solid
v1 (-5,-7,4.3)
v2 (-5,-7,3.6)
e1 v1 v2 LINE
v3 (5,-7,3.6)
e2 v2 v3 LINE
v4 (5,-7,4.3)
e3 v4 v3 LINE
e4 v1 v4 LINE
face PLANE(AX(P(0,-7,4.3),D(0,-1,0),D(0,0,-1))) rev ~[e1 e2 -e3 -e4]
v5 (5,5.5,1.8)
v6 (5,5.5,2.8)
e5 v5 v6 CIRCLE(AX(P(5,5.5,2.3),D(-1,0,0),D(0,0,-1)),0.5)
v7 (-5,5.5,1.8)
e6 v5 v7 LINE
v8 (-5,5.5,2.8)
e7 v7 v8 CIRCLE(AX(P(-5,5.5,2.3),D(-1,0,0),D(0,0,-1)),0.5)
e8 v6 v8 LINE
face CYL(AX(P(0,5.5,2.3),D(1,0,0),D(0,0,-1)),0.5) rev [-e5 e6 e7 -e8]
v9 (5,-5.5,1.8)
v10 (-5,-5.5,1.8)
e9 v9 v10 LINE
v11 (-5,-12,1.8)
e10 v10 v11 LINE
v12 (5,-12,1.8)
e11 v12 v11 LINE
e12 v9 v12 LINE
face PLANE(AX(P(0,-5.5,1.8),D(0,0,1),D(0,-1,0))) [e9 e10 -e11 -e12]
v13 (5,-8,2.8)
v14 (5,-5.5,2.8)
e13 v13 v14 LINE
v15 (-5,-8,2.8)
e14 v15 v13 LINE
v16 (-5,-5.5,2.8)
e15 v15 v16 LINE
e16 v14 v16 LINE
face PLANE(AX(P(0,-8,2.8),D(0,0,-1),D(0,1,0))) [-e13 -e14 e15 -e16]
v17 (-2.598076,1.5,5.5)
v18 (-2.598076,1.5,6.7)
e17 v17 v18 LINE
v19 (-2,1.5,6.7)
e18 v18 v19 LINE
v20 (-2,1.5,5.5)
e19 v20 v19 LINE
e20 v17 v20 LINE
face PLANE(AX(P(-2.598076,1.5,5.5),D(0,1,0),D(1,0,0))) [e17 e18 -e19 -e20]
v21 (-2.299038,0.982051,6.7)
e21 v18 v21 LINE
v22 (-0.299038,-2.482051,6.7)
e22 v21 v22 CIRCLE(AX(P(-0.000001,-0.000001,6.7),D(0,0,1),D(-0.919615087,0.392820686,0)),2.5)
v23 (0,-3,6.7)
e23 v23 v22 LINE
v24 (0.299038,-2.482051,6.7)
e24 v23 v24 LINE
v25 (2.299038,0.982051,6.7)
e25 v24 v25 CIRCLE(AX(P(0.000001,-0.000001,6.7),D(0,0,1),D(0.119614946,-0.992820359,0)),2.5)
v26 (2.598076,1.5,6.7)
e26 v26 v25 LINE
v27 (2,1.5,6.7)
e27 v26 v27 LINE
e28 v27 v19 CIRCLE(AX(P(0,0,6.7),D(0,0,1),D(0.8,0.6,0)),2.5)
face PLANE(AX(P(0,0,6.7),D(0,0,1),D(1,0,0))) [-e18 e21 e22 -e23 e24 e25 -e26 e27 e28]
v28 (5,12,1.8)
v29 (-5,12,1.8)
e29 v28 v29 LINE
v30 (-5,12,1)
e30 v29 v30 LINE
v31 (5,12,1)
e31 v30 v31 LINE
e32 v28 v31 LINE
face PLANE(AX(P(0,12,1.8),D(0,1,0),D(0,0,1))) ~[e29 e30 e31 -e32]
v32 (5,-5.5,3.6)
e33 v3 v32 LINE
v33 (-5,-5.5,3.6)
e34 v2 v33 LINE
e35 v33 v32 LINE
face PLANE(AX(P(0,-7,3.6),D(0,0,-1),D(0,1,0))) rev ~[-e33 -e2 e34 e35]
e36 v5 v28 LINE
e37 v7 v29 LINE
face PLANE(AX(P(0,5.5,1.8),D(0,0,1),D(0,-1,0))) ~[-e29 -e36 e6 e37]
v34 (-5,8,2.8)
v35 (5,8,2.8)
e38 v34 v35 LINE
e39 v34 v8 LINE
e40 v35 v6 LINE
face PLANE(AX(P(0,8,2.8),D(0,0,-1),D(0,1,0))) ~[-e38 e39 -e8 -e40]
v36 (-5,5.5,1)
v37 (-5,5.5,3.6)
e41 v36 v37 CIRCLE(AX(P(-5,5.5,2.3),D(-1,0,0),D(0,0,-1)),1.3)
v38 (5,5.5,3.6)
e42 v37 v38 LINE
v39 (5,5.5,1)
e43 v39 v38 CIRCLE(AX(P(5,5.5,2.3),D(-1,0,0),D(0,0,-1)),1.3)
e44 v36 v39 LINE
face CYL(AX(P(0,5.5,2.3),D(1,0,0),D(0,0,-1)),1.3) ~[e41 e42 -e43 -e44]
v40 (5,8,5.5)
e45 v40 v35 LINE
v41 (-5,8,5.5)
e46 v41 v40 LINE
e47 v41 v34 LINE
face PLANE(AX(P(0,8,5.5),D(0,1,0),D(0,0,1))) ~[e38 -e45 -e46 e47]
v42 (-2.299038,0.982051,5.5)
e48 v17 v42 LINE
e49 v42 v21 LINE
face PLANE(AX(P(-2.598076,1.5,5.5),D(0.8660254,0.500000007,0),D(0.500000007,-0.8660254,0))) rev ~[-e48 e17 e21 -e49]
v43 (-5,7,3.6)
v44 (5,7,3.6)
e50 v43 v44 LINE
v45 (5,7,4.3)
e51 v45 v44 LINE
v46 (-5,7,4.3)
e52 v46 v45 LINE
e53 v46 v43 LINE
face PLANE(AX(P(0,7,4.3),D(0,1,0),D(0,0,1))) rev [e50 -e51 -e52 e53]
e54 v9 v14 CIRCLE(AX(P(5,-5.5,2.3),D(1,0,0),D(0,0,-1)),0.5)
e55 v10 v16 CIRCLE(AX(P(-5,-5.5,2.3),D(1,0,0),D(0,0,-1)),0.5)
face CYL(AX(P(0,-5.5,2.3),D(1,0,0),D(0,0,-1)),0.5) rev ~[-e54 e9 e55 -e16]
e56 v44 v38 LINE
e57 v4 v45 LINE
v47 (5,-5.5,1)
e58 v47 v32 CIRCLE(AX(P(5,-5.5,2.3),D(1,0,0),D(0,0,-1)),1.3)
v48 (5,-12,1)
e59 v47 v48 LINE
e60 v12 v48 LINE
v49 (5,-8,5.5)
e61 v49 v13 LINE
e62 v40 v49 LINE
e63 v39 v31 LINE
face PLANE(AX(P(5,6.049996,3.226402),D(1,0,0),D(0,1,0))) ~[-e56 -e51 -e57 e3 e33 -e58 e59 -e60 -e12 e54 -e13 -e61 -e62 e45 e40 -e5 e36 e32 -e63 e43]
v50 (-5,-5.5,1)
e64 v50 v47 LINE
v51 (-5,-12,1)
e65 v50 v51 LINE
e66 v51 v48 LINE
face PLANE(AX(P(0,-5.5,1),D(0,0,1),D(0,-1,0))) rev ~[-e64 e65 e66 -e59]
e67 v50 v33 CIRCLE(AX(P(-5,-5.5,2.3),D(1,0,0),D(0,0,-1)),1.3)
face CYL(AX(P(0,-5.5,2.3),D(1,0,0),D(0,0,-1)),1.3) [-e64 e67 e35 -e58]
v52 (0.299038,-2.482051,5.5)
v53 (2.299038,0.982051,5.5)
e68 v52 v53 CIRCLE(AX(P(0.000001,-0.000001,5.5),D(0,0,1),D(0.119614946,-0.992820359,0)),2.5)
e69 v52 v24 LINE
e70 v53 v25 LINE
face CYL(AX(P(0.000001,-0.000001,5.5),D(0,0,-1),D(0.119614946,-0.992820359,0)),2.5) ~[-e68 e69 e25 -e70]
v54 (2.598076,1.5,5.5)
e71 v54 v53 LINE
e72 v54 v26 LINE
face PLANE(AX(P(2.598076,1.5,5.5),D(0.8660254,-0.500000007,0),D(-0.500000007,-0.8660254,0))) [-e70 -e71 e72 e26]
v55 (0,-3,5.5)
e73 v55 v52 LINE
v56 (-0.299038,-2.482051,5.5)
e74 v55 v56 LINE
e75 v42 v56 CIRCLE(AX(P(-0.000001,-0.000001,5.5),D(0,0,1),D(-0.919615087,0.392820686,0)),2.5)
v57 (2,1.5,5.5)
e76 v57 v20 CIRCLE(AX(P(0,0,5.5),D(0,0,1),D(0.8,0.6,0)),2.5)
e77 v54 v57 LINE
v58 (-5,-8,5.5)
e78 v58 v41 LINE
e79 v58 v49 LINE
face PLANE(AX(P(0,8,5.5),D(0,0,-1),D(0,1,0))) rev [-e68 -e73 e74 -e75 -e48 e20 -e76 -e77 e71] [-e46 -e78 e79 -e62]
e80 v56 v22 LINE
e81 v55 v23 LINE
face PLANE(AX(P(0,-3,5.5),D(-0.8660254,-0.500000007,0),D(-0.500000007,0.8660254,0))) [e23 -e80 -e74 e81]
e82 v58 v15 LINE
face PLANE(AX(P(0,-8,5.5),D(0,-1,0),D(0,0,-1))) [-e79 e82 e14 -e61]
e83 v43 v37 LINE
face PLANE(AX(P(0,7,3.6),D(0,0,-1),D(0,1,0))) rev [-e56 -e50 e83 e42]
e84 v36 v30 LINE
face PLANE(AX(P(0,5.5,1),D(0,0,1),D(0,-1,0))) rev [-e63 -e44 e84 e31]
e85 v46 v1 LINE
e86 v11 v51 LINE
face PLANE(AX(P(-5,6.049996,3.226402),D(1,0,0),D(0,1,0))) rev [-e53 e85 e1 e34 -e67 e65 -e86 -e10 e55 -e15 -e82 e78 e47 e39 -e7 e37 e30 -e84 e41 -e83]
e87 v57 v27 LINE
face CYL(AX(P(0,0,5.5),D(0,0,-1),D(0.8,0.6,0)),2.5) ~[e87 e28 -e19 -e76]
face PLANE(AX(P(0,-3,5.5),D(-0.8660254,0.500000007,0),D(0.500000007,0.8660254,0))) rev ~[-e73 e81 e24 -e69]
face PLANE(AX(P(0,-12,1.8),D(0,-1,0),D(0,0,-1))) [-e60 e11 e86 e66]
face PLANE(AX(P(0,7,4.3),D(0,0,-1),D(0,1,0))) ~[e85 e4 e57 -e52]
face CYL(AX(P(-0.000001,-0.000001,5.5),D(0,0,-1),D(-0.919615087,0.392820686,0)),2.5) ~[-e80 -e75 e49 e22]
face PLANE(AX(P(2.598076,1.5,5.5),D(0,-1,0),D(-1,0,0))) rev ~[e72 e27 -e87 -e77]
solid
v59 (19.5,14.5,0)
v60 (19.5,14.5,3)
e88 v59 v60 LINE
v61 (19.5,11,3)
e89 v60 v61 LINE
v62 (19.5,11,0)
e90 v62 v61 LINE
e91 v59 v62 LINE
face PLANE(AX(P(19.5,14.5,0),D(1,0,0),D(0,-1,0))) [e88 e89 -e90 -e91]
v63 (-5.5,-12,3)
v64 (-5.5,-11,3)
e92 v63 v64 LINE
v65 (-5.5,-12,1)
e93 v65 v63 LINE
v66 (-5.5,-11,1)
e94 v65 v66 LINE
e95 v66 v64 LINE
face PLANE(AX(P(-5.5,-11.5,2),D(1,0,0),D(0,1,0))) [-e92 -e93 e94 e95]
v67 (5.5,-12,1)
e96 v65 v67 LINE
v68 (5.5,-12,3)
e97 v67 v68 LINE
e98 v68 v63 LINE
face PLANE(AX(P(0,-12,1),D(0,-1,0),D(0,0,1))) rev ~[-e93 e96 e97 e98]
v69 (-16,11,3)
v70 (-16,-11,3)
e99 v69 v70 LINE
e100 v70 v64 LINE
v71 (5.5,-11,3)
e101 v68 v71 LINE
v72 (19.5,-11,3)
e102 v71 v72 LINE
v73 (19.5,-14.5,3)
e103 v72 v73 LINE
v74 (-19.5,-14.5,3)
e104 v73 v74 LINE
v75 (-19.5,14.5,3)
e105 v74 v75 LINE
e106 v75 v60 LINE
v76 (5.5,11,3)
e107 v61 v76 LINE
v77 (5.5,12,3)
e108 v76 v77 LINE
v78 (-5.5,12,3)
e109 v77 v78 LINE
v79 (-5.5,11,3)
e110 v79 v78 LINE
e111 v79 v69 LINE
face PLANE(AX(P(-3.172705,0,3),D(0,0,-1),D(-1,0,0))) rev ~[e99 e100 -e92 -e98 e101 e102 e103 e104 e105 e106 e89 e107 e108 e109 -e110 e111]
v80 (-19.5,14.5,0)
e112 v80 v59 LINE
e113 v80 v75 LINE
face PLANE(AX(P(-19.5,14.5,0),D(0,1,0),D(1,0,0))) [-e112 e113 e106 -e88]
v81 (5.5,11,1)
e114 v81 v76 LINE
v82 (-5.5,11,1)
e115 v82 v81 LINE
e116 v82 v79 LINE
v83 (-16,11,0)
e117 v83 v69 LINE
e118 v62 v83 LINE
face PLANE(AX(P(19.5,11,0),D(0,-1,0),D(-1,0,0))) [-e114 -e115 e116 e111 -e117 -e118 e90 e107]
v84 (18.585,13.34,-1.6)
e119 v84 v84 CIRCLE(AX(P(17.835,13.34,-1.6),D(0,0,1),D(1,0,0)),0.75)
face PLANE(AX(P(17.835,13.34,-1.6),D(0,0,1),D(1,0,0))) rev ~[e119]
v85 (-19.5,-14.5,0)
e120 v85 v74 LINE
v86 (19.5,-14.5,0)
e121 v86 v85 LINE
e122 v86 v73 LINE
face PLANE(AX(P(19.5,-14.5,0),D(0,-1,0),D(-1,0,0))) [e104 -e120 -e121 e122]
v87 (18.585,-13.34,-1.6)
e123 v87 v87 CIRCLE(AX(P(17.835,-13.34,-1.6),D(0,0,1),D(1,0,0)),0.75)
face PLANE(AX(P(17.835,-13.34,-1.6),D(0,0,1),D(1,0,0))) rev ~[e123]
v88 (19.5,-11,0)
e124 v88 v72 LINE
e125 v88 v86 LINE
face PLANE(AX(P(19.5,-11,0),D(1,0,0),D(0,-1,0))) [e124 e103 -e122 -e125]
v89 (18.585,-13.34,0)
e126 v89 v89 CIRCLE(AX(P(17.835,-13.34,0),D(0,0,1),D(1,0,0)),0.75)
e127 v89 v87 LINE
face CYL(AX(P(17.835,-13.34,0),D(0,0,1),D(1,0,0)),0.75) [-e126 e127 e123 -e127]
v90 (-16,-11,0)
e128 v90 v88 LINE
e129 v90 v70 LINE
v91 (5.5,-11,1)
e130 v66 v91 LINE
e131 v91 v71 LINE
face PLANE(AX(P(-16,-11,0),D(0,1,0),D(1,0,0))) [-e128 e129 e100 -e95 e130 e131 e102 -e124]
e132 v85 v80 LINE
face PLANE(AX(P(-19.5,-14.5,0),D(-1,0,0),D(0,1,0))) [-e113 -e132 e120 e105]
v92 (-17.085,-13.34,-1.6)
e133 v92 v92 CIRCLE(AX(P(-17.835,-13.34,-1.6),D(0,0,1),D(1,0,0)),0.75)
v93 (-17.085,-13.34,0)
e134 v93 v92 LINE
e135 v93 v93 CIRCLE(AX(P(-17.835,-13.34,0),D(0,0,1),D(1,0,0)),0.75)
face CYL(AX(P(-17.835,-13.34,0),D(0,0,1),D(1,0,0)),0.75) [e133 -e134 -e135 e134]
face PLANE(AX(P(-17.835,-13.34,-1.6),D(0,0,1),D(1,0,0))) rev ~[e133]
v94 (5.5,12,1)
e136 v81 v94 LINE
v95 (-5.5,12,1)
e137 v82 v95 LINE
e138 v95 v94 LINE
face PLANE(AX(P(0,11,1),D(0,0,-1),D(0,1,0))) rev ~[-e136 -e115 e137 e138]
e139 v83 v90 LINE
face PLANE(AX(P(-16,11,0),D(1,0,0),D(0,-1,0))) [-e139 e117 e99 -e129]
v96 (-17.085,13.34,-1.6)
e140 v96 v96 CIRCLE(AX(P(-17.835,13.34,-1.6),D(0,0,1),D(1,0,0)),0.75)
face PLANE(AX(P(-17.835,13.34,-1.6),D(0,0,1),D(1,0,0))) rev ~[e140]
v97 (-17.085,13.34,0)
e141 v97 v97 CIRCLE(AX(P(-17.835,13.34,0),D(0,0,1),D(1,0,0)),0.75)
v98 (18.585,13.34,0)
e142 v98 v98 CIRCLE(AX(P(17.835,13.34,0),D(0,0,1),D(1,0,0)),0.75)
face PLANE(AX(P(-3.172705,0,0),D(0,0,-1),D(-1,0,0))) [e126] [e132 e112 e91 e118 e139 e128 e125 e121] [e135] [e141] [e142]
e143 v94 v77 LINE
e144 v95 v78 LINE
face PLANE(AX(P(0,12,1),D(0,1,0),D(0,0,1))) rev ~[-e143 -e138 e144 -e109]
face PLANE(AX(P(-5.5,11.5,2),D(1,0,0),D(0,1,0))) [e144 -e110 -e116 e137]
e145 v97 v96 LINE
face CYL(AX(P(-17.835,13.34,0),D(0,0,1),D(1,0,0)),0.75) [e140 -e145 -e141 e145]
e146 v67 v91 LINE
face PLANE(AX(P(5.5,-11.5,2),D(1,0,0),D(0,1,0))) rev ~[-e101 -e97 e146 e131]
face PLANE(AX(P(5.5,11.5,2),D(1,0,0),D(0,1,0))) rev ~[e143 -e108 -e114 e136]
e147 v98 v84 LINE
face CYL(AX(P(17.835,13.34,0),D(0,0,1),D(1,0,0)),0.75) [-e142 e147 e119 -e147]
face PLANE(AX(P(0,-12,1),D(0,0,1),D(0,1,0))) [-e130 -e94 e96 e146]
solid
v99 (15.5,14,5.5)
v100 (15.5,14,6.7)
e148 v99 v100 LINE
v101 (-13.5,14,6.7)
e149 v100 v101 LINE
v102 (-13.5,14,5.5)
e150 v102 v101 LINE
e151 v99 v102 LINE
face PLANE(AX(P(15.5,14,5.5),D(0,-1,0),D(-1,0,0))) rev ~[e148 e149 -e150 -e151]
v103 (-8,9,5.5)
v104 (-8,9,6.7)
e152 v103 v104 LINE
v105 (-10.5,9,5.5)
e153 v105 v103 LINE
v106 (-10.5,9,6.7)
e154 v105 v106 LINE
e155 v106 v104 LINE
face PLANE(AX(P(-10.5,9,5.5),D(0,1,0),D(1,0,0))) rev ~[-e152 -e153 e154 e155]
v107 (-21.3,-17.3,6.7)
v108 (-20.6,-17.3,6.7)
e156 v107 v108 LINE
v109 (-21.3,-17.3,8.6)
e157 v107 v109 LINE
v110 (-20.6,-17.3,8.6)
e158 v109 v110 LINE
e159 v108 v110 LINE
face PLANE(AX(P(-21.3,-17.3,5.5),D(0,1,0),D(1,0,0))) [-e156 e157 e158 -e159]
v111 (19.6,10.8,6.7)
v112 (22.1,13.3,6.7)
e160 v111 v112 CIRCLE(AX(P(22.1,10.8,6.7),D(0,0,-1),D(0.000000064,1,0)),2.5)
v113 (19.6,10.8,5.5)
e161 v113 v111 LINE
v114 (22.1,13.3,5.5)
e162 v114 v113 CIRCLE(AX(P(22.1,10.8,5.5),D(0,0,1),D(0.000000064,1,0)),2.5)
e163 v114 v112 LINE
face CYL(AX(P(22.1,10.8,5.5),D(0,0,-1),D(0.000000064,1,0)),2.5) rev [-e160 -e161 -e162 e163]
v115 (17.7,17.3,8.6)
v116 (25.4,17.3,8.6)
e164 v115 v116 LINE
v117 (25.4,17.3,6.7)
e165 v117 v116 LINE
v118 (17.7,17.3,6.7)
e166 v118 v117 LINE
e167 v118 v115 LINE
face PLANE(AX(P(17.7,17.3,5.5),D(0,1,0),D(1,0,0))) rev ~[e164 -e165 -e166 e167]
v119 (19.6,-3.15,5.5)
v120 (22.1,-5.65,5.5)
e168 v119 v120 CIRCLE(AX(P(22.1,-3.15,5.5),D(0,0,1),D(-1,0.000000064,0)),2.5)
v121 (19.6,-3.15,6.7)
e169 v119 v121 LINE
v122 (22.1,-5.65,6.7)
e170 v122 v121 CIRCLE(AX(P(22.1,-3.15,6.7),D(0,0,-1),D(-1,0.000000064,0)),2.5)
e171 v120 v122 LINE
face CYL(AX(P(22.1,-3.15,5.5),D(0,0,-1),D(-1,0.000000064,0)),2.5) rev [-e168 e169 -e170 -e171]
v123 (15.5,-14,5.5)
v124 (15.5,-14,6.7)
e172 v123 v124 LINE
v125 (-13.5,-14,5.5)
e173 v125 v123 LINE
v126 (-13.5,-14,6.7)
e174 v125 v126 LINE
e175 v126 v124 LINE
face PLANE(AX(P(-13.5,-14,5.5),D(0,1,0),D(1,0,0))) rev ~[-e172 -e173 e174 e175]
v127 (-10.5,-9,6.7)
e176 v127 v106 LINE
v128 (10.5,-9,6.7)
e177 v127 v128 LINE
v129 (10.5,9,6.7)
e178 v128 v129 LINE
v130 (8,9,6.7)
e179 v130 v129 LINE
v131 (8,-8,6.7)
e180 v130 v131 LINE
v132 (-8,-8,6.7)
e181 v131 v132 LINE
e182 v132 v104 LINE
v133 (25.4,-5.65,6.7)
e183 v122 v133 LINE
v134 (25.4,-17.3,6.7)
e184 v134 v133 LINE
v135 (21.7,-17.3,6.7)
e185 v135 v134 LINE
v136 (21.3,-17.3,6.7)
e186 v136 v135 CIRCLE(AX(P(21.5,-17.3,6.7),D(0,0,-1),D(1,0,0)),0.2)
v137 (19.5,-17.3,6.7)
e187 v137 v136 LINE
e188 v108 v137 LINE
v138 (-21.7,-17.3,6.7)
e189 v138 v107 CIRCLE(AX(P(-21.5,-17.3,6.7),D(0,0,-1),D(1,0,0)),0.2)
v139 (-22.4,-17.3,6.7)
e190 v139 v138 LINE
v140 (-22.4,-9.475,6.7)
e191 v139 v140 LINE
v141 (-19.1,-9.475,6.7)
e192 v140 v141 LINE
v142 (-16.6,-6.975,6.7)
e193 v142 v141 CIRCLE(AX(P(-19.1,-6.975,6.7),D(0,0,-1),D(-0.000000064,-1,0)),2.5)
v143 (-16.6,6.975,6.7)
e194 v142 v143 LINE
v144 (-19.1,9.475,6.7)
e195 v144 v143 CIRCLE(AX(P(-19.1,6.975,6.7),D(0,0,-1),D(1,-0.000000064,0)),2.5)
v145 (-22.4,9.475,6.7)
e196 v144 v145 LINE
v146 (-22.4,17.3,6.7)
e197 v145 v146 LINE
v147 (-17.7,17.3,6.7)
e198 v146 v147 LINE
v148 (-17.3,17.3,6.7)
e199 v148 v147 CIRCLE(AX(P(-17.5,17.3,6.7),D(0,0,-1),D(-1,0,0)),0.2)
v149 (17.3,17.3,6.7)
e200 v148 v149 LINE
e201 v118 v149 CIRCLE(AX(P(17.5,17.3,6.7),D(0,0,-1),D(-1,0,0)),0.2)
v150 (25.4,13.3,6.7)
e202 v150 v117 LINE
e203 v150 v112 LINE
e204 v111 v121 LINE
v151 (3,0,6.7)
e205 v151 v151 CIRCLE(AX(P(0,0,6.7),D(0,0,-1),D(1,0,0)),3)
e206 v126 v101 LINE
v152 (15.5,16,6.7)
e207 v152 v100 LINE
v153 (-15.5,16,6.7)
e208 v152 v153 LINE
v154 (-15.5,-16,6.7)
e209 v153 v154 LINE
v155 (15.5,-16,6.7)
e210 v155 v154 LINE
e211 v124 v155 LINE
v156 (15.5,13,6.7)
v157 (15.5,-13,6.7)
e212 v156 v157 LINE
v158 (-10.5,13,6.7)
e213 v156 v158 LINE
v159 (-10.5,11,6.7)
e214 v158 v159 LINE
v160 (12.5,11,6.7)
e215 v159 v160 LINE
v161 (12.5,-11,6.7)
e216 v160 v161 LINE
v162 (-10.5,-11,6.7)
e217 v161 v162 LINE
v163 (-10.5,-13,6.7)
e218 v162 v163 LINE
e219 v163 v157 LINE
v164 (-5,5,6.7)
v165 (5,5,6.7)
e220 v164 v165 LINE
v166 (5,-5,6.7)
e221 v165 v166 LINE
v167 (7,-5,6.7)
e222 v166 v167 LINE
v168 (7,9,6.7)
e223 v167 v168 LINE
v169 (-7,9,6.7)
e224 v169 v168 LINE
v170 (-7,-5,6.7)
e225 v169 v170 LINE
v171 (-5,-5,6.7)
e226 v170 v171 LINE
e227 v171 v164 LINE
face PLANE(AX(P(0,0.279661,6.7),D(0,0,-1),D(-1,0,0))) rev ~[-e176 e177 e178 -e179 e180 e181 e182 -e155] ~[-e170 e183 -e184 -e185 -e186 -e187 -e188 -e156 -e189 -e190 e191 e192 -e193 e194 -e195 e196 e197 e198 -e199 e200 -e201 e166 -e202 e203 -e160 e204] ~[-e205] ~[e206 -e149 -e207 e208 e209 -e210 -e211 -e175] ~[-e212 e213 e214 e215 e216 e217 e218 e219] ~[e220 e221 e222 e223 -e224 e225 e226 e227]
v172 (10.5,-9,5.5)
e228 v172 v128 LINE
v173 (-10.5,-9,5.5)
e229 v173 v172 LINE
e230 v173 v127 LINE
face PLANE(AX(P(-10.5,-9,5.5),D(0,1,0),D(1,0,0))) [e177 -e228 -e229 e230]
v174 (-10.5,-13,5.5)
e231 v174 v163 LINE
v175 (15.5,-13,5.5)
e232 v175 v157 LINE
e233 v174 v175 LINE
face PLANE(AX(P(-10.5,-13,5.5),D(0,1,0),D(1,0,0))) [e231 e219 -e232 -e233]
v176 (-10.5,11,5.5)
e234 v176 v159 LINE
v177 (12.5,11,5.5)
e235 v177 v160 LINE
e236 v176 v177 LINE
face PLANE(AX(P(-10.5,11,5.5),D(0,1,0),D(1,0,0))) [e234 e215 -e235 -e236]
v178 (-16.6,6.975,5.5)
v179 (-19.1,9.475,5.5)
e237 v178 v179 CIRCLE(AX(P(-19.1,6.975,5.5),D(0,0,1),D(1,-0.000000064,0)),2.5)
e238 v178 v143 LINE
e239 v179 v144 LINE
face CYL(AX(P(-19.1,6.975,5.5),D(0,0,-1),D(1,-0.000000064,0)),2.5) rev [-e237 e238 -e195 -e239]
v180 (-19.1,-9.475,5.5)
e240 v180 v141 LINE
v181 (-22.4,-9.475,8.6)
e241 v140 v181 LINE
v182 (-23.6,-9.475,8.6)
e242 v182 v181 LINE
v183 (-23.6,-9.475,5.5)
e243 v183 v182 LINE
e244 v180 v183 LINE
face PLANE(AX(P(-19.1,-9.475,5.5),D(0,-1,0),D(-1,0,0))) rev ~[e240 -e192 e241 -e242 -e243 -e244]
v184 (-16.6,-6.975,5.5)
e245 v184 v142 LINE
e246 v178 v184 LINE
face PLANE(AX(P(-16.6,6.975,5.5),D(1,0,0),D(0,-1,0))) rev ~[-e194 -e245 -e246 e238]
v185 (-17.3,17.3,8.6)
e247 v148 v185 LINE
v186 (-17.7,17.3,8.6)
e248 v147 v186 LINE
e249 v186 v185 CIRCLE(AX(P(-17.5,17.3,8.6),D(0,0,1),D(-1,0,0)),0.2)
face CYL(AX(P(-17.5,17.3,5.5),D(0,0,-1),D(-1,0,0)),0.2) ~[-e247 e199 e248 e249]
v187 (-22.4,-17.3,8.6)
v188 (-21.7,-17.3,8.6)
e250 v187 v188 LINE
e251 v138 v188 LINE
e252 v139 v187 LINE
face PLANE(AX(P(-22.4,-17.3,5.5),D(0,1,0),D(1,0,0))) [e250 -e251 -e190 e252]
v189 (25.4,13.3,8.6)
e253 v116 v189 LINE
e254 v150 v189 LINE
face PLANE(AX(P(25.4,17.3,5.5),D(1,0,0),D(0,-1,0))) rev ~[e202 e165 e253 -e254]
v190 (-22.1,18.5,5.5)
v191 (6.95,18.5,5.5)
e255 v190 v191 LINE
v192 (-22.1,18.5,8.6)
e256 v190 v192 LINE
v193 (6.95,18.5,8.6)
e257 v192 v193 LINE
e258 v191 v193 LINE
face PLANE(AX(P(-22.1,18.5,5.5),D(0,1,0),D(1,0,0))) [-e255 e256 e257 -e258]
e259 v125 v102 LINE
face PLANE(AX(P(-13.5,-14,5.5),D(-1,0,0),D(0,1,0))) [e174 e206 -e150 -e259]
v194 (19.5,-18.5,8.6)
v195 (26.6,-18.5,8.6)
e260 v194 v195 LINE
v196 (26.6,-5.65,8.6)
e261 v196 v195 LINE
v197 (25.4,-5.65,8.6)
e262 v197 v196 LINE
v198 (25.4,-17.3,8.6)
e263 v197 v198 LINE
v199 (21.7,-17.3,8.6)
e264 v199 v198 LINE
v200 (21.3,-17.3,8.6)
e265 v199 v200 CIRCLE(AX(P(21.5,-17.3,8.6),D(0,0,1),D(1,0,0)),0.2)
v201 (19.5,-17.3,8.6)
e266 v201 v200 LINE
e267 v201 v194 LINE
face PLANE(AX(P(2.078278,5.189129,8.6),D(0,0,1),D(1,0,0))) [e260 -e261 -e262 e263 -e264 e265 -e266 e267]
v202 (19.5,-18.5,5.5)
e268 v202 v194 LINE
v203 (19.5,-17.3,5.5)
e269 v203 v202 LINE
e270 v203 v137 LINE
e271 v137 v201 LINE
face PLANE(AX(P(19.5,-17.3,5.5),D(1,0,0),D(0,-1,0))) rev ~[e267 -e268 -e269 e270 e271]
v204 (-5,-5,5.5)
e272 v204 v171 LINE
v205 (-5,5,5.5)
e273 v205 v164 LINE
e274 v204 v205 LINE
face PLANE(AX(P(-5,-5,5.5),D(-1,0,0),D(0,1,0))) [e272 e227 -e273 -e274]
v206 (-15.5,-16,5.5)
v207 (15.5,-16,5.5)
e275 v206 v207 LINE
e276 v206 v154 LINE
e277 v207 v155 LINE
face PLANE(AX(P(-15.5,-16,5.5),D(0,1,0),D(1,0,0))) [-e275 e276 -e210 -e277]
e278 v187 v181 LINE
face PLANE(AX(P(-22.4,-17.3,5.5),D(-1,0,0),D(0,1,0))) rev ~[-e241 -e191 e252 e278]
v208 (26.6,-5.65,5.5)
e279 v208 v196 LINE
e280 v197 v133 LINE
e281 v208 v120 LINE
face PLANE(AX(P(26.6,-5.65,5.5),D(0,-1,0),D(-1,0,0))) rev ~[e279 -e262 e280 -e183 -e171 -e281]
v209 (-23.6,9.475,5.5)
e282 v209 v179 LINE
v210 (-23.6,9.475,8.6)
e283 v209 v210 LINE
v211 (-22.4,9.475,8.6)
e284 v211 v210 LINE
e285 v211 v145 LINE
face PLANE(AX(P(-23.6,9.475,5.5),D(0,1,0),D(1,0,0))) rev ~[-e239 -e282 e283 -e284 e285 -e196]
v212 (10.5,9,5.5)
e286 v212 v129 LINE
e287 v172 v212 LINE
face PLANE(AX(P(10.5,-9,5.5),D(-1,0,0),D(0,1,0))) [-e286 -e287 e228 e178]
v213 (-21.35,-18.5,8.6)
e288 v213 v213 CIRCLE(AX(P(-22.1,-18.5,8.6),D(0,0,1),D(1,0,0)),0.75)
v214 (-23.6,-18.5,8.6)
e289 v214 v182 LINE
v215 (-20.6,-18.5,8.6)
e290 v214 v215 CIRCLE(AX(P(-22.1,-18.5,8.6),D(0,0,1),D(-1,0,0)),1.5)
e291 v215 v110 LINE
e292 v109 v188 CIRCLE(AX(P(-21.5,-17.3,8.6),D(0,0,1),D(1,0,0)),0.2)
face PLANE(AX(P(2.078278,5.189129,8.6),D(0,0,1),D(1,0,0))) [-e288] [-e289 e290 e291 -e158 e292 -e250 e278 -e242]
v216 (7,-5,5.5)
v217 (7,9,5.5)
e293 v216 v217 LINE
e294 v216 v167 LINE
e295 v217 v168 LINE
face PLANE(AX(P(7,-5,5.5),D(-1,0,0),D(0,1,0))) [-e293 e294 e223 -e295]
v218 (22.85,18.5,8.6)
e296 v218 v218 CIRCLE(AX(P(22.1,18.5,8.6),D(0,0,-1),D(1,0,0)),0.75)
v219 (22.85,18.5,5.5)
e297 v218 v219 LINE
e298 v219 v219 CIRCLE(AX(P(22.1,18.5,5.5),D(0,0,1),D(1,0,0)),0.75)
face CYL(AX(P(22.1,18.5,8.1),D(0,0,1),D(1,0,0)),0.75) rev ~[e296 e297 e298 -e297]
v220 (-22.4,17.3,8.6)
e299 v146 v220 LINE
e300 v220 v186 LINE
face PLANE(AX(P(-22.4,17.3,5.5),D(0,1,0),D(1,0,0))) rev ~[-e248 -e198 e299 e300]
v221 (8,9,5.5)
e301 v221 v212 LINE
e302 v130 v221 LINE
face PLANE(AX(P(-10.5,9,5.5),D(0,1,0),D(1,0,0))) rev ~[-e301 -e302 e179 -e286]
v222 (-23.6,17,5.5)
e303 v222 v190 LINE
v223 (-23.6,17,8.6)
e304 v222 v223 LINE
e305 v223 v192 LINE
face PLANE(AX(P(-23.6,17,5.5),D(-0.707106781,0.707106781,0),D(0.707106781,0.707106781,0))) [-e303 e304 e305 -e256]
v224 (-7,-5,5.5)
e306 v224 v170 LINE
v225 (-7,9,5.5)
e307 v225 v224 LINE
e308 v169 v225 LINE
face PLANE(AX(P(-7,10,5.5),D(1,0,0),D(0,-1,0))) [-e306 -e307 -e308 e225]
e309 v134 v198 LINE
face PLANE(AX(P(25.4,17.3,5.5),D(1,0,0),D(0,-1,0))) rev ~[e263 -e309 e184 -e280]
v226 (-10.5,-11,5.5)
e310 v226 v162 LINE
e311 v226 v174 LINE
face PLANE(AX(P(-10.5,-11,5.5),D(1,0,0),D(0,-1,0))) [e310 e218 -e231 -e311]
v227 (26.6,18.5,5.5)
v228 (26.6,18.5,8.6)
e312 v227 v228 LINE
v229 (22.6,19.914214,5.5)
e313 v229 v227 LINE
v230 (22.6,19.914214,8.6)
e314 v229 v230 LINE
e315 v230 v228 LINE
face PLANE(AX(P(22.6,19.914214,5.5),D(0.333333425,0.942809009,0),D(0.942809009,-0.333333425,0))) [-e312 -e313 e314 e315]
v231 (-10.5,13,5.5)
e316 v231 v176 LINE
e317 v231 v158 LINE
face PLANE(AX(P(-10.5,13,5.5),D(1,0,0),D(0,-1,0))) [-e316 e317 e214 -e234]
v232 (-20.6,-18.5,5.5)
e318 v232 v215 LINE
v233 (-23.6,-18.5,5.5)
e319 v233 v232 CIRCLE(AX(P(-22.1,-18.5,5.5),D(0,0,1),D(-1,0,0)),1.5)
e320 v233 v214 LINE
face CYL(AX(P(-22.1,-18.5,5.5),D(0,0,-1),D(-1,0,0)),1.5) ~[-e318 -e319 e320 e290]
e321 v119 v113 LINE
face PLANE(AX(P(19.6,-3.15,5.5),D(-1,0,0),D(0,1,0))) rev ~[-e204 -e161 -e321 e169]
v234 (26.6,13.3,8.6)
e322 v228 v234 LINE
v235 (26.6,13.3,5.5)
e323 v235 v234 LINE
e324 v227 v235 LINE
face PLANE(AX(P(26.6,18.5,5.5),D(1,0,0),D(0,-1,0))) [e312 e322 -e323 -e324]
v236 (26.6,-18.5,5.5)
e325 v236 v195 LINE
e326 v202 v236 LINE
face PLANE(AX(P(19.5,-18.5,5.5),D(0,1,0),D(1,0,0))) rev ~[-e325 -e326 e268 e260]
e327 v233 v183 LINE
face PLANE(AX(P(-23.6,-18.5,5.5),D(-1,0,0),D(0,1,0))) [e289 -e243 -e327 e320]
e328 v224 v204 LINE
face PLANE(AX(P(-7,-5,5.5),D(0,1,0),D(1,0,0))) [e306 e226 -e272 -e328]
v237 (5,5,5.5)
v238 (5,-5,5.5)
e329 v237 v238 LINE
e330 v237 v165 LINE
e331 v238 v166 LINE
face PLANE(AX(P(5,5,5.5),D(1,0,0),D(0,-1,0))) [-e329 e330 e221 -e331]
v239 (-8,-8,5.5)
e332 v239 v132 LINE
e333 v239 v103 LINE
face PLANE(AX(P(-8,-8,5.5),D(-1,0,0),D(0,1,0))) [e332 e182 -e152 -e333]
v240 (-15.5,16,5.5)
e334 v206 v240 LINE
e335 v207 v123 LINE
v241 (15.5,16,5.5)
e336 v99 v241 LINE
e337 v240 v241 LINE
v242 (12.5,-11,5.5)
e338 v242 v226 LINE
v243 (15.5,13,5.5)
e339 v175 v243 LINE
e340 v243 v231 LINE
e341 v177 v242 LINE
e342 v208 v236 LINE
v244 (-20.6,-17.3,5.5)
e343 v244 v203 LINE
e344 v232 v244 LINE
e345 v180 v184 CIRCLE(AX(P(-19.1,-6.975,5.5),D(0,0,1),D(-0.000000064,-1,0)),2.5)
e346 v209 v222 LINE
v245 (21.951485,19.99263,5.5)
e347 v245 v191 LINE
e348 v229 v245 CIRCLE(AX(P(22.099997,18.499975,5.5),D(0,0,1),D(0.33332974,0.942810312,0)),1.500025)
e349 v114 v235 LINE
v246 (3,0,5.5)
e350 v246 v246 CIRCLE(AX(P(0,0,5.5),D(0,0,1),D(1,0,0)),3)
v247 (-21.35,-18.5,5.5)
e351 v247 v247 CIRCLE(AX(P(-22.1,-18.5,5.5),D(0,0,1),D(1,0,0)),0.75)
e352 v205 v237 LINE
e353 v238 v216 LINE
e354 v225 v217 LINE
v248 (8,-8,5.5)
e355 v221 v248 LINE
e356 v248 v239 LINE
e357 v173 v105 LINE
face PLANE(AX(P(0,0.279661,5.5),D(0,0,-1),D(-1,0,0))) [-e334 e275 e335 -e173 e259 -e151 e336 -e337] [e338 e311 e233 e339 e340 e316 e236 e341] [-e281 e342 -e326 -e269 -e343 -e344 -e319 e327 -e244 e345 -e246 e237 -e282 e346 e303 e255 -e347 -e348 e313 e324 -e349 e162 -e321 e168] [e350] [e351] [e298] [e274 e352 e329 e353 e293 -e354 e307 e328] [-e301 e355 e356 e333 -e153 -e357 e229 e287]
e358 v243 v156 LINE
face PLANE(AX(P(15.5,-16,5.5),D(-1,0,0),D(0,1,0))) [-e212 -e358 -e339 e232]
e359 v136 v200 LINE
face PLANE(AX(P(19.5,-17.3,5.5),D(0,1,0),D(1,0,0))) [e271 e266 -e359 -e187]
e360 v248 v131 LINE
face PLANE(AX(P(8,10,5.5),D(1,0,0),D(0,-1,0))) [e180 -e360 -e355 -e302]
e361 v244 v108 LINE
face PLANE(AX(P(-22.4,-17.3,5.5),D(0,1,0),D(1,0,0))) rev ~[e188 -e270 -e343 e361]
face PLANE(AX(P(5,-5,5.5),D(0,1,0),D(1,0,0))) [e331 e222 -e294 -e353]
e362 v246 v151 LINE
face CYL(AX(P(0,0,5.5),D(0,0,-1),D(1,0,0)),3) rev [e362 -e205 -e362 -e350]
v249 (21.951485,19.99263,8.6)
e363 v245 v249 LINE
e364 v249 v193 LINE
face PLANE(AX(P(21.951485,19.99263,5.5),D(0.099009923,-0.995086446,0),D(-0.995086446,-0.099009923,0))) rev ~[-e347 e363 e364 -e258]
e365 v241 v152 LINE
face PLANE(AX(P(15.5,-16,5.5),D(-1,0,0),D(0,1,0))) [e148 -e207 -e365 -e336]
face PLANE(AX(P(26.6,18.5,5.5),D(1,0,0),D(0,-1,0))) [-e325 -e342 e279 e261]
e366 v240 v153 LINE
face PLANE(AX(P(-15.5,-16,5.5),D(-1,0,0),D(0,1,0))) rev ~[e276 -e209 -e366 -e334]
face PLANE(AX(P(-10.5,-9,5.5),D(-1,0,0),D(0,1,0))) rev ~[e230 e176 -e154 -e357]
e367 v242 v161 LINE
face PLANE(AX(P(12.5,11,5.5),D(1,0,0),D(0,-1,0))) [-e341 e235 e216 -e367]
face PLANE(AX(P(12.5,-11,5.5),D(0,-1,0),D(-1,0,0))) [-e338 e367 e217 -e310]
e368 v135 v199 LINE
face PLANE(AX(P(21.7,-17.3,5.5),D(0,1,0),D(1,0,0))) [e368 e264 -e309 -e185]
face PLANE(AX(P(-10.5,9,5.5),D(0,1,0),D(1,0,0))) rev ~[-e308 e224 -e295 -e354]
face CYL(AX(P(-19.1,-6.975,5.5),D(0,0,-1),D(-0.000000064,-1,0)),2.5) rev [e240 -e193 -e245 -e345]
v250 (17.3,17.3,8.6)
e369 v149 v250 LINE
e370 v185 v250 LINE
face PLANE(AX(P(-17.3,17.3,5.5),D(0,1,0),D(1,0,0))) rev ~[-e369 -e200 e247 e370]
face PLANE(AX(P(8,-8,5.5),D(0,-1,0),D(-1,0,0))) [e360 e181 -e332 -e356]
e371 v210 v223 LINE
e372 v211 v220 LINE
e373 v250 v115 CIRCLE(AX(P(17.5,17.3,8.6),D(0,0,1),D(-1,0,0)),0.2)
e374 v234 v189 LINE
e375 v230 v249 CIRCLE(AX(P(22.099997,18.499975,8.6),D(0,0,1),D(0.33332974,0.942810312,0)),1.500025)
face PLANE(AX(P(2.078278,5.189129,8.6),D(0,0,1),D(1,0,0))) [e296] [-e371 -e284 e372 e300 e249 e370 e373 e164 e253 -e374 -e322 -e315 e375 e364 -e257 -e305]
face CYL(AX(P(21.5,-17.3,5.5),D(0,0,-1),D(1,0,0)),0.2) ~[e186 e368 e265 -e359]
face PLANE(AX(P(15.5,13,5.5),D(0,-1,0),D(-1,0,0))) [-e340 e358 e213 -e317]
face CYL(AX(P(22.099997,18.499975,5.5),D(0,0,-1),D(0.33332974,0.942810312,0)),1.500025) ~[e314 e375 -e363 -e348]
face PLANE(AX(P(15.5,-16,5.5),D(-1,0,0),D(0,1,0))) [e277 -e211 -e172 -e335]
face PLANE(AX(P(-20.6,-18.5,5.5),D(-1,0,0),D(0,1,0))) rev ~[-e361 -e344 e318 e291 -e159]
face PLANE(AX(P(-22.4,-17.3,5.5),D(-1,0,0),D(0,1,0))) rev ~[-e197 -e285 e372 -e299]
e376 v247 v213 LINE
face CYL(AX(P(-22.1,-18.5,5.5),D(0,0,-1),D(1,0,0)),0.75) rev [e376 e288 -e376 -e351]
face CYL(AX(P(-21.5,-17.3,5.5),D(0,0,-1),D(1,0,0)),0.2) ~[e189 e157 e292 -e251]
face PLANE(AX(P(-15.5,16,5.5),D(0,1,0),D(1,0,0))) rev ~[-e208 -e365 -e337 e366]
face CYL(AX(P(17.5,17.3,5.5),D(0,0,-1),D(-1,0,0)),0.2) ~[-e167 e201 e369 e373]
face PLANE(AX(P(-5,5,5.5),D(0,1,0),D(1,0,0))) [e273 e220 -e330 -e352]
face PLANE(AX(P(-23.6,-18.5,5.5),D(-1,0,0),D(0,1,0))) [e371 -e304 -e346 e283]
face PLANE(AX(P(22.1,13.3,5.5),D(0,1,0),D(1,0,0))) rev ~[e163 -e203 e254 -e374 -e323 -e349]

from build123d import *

# Parameters (mm, degrees)
SKETCH007_W       = 47.8
SKETCH007_H       = 34.6
PAD005_DEPTH      = 1.2
SKETCH008_R       = 0.75
PAD006_DEPTH      = 3.1
POCKET001_DEPTH   = 3.101
SKETCH005_W       = 31
SKETCH005_H       = 32
POCKET002_DEPTH   = 5
SKETCH023_W       = 21
SKETCH023_H       = 18
PAD_DEPTH         = 1.2
PAD015_DEPTH      = 1.2
SKETCH013_R       = 0.75
POCKET_DEPTH      = 2.601
POCKET_DEPTH_BACK = -0.501
SKETCH034_R       = 3
POCKET006_DEPTH   = 5
PAD019_DEPTH      = 3
SKETCH_R          = 0.75
PAD020_DEPTH      = 1.6
SKETCH030_W       = 1
SKETCH030_H       = 2
POCKET003_DEPTH   = 5.5
PAD021_DEPTH      = 5
PAD022_DEPTH      = 1.2


with BuildPart() as plastic_tek1_display_interface_top_part:
    # Sketch007 (on DatumPlane) → Pad005 (new body)
    with BuildSketch(Plane.XY.offset(5.5)):
        with Locations((1.5, 0)):
            Rectangle(SKETCH007_W, SKETCH007_H)
    extrude(amount=PAD005_DEPTH)

    # Sketch008 (on DatumPlane) → Pad006 (join)
    with BuildSketch(Plane.XY.offset(5.5)):
        with BuildLine():
            Line((-22.4, -17.3), (-22.4, 17.3))
            Line((-22.4, 17.3), (-17.7, 17.3))
            ThreePointArc((-17.7, 17.3), (-17.5, 17.1), (-17.3, 17.3))
            Line((-17.3, 17.3), (17.3, 17.3))
            ThreePointArc((17.3, 17.3), (17.5, 17.1), (17.7, 17.3))
            Line((17.7, 17.3), (25.4, 17.3))
            Line((25.4, 17.3), (25.4, -17.3))
            Line((21.7, -17.3), (25.4, -17.3))
            ThreePointArc((21.7, -17.3), (21.5, -17.1), (21.3, -17.3))
            Line((19.5, -17.3), (21.3, -17.3))
            Line((19.5, -17.3), (19.5, -18.5))
            Line((19.5, -18.5), (26.6, -18.5))
            Line((26.6, 18.5), (26.6, -18.5))
            Line((22.6, 19.914214), (26.6, 18.5))
            ThreePointArc((22.6, 19.914214), (22.280063, 19.989153), (21.951485, 19.99263))
            Line((21.951485, 19.99263), (6.95, 18.5))
            Line((-22.1, 18.5), (6.95, 18.5))
            Line((-23.6, 17), (-22.1, 18.5))
            Line((-23.6, -18.5), (-23.6, 17))
            ThreePointArc((-23.6, -18.5), (-22.1, -20), (-20.6, -18.5))
            Line((-20.6, -18.5), (-20.6, -17.3))
            Line((-21.3, -17.3), (-20.6, -17.3))
            ThreePointArc((-21.3, -17.3), (-21.5, -17.1), (-21.7, -17.3))
            Line((-22.4, -17.3), (-21.7, -17.3))
        make_face()
        with Locations((-22.1, -18.5)):
            Circle(SKETCH008_R, mode=Mode.SUBTRACT)
    extrude(amount=PAD006_DEPTH)

    # Sketch009 (on DatumPlane) → Pocket001 (cut, through all)
    with BuildSketch(Plane.XY.offset(5.5)):
        with BuildLine():
            Line((19.6, -3.15), (19.6, 10.8))
            ThreePointArc((22.1, 13.3), (20.332233, 12.567767), (19.6, 10.8))
            Line((22.1, 13.3), (26.6, 13.3))
            Line((26.6, 13.3), (26.6, -5.65))
            Line((26.6, -5.65), (22.1, -5.65))
            ThreePointArc((19.6, -3.15), (20.332233, -4.917767), (22.1, -5.65))
        make_face()
        with BuildLine():
            Line((-23.6, 9.475), (-19.1, 9.475))
            ThreePointArc((-16.6, 6.975), (-17.332233, 8.742767), (-19.1, 9.475))
            Line((-16.6, 6.975), (-16.6, -6.975))
            ThreePointArc((-19.1, -9.475), (-17.332233, -8.742767), (-16.6, -6.975))
            Line((-19.1, -9.475), (-23.6, -9.475))
            Line((-23.6, -9.475), (-23.6, 9.475))
        make_face()
    extrude(amount=POCKET001_DEPTH, mode=Mode.SUBTRACT)

    # Sketch005 (on DatumPlane) → Pocket002 (cut)
    with BuildSketch(Plane.XY.offset(5.5)):
        Rectangle(SKETCH005_W, SKETCH005_H)
    extrude(amount=POCKET002_DEPTH, mode=Mode.SUBTRACT)

    # Sketch023 (on DatumPlane) → Pad (join)
    with BuildSketch(Plane.XY.offset(5.5)):
        Polygon((-13.5, -14), (-13.5, 14), (-10.5, 14), (15.5, 14), (15.5, 13), (-10.5, 13), (-10.5, 11), (12.5, 11), (12.5, -11), (-10.5, -11), (-10.5, -13), (15.5, -13), (15.5, -14), (-10.5, -14), align=None)
        Rectangle(SKETCH023_W, SKETCH023_H, mode=Mode.SUBTRACT)
    extrude(amount=PAD_DEPTH)

    # Sketch020 (on DatumPlane) → Pad015 (join)
    with BuildSketch(Plane.XY.offset(5.5)):
        Polygon((-5, -5), (-5, 5), (5, 5), (5, -5), (7, -5), (7, 10), (8, 10), (8, -8), (-8, -8), (-8, 10), (-7, 10), (-7, -5), align=None)
    extrude(amount=PAD015_DEPTH)

    # Sketch013 (on DatumPlane) → Pocket (cut, two sides)
    with BuildSketch(Plane.XY.offset(8.1)) as pocket_sk:
        with Locations((22.1, 18.5)):
            Circle(SKETCH013_R)
        with Locations((-22.1, -18.5)):
            Circle(SKETCH013_R)
    extrude(amount=-POCKET_DEPTH, mode=Mode.SUBTRACT)
    extrude(pocket_sk.sketch, amount=-POCKET_DEPTH_BACK, mode=Mode.SUBTRACT)

    # Sketch034 (on DatumPlane) → Pocket006 (cut)
    with BuildSketch(Plane.XY.offset(5.5)):
        Circle(SKETCH034_R)
    extrude(amount=POCKET006_DEPTH, mode=Mode.SUBTRACT)


with BuildPart() as body002:
    # Sketch029 → Pad019 (new body)
    with BuildSketch(Plane.XY):
        Polygon((-19.5, -14.5), (-19.5, 14.5), (19.5, 14.5), (19.5, 11), (-16, 11), (-16, -11), (19.5, -11), (19.5, -14.5), align=None)
    extrude(amount=PAD019_DEPTH)

    # Sketch → Pad020 (join)
    with BuildSketch(Plane.XY):
        with Locations((-17.835, 13.34)):
            Circle(SKETCH_R)
        with Locations((-17.835, -13.34)):
            Circle(SKETCH_R)
        with Locations((17.835, -13.34)):
            Circle(SKETCH_R)
        with Locations((17.835, 13.34)):
            Circle(SKETCH_R)
    extrude(amount=-PAD020_DEPTH)

    # Sketch030 → Pocket003 (cut, symmetric)
    with BuildSketch(Plane.YZ):
        with Locations((-11.5, 2)):
            Rectangle(SKETCH030_W, SKETCH030_H)
        with Locations((11.5, 2)):
            Rectangle(SKETCH030_W, SKETCH030_H)
    extrude(amount=POCKET003_DEPTH, both=True, mode=Mode.SUBTRACT)


with BuildPart() as body003:
    # Sketch032 → Pad021 (new body, symmetric)
    with BuildSketch(Plane.YZ):
        with BuildLine():
            Line((-12, 1.8), (-12, 1))
            Line((-5.5, 1), (-12, 1))
            ThreePointArc((-5.5, 1), (-4.2, 2.3), (-5.5, 3.6))
            Line((-7, 3.6), (-5.5, 3.6))
            Line((-7, 4.3), (-7, 3.6))
            Line((-7, 4.3), (0, 4.3))
            Line((0, 5.5), (0, 4.3))
            Line((-8, 5.5), (0, 5.5))
            Line((-8, 5.5), (-8, 2.8))
            Line((-8, 2.8), (-5.5, 2.8))
            ThreePointArc((-5.5, 1.8), (-5, 2.3), (-5.5, 2.8))
            Line((-5.5, 1.8), (-12, 1.8))
        make_face()
    pad021 = extrude(amount=PAD021_DEPTH, both=True)

    # Mirrored004: Pad021 across Sketch027 V_Axis
    add(pad021.mirror(Plane(origin=(0, 0, 0), x_dir=(1, 0, 0), z_dir=(0, 1, 0))))

    # Sketch026 (on DatumPlane) → Pad022 (join)
    with BuildSketch(Plane.XY.offset(5.5)):
        with BuildLine():
            ThreePointArc((-2.299038, 0.982051), (-2.165064, -1.25), (-0.299038, -2.482051))
            Line((0, -3), (-0.299038, -2.482051))
            Line((0, -3), (0.299038, -2.482051))
            ThreePointArc((0.299038, -2.482051), (2.165064, -1.25), (2.299038, 0.982051))
            Line((2.598076, 1.5), (2.299038, 0.982051))
            Line((2.598076, 1.5), (2, 1.5))
            ThreePointArc((2, 1.5), (0, 2.5), (-2, 1.5))
            Line((-2.598076, 1.5), (-2, 1.5))
            Line((-2.598076, 1.5), (-2.299038, 0.982051))
        make_face()
    extrude(amount=PAD022_DEPTH)


solid = Compound([plastic_tek1_display_interface_top_part.part, body002.part, body003.part])
